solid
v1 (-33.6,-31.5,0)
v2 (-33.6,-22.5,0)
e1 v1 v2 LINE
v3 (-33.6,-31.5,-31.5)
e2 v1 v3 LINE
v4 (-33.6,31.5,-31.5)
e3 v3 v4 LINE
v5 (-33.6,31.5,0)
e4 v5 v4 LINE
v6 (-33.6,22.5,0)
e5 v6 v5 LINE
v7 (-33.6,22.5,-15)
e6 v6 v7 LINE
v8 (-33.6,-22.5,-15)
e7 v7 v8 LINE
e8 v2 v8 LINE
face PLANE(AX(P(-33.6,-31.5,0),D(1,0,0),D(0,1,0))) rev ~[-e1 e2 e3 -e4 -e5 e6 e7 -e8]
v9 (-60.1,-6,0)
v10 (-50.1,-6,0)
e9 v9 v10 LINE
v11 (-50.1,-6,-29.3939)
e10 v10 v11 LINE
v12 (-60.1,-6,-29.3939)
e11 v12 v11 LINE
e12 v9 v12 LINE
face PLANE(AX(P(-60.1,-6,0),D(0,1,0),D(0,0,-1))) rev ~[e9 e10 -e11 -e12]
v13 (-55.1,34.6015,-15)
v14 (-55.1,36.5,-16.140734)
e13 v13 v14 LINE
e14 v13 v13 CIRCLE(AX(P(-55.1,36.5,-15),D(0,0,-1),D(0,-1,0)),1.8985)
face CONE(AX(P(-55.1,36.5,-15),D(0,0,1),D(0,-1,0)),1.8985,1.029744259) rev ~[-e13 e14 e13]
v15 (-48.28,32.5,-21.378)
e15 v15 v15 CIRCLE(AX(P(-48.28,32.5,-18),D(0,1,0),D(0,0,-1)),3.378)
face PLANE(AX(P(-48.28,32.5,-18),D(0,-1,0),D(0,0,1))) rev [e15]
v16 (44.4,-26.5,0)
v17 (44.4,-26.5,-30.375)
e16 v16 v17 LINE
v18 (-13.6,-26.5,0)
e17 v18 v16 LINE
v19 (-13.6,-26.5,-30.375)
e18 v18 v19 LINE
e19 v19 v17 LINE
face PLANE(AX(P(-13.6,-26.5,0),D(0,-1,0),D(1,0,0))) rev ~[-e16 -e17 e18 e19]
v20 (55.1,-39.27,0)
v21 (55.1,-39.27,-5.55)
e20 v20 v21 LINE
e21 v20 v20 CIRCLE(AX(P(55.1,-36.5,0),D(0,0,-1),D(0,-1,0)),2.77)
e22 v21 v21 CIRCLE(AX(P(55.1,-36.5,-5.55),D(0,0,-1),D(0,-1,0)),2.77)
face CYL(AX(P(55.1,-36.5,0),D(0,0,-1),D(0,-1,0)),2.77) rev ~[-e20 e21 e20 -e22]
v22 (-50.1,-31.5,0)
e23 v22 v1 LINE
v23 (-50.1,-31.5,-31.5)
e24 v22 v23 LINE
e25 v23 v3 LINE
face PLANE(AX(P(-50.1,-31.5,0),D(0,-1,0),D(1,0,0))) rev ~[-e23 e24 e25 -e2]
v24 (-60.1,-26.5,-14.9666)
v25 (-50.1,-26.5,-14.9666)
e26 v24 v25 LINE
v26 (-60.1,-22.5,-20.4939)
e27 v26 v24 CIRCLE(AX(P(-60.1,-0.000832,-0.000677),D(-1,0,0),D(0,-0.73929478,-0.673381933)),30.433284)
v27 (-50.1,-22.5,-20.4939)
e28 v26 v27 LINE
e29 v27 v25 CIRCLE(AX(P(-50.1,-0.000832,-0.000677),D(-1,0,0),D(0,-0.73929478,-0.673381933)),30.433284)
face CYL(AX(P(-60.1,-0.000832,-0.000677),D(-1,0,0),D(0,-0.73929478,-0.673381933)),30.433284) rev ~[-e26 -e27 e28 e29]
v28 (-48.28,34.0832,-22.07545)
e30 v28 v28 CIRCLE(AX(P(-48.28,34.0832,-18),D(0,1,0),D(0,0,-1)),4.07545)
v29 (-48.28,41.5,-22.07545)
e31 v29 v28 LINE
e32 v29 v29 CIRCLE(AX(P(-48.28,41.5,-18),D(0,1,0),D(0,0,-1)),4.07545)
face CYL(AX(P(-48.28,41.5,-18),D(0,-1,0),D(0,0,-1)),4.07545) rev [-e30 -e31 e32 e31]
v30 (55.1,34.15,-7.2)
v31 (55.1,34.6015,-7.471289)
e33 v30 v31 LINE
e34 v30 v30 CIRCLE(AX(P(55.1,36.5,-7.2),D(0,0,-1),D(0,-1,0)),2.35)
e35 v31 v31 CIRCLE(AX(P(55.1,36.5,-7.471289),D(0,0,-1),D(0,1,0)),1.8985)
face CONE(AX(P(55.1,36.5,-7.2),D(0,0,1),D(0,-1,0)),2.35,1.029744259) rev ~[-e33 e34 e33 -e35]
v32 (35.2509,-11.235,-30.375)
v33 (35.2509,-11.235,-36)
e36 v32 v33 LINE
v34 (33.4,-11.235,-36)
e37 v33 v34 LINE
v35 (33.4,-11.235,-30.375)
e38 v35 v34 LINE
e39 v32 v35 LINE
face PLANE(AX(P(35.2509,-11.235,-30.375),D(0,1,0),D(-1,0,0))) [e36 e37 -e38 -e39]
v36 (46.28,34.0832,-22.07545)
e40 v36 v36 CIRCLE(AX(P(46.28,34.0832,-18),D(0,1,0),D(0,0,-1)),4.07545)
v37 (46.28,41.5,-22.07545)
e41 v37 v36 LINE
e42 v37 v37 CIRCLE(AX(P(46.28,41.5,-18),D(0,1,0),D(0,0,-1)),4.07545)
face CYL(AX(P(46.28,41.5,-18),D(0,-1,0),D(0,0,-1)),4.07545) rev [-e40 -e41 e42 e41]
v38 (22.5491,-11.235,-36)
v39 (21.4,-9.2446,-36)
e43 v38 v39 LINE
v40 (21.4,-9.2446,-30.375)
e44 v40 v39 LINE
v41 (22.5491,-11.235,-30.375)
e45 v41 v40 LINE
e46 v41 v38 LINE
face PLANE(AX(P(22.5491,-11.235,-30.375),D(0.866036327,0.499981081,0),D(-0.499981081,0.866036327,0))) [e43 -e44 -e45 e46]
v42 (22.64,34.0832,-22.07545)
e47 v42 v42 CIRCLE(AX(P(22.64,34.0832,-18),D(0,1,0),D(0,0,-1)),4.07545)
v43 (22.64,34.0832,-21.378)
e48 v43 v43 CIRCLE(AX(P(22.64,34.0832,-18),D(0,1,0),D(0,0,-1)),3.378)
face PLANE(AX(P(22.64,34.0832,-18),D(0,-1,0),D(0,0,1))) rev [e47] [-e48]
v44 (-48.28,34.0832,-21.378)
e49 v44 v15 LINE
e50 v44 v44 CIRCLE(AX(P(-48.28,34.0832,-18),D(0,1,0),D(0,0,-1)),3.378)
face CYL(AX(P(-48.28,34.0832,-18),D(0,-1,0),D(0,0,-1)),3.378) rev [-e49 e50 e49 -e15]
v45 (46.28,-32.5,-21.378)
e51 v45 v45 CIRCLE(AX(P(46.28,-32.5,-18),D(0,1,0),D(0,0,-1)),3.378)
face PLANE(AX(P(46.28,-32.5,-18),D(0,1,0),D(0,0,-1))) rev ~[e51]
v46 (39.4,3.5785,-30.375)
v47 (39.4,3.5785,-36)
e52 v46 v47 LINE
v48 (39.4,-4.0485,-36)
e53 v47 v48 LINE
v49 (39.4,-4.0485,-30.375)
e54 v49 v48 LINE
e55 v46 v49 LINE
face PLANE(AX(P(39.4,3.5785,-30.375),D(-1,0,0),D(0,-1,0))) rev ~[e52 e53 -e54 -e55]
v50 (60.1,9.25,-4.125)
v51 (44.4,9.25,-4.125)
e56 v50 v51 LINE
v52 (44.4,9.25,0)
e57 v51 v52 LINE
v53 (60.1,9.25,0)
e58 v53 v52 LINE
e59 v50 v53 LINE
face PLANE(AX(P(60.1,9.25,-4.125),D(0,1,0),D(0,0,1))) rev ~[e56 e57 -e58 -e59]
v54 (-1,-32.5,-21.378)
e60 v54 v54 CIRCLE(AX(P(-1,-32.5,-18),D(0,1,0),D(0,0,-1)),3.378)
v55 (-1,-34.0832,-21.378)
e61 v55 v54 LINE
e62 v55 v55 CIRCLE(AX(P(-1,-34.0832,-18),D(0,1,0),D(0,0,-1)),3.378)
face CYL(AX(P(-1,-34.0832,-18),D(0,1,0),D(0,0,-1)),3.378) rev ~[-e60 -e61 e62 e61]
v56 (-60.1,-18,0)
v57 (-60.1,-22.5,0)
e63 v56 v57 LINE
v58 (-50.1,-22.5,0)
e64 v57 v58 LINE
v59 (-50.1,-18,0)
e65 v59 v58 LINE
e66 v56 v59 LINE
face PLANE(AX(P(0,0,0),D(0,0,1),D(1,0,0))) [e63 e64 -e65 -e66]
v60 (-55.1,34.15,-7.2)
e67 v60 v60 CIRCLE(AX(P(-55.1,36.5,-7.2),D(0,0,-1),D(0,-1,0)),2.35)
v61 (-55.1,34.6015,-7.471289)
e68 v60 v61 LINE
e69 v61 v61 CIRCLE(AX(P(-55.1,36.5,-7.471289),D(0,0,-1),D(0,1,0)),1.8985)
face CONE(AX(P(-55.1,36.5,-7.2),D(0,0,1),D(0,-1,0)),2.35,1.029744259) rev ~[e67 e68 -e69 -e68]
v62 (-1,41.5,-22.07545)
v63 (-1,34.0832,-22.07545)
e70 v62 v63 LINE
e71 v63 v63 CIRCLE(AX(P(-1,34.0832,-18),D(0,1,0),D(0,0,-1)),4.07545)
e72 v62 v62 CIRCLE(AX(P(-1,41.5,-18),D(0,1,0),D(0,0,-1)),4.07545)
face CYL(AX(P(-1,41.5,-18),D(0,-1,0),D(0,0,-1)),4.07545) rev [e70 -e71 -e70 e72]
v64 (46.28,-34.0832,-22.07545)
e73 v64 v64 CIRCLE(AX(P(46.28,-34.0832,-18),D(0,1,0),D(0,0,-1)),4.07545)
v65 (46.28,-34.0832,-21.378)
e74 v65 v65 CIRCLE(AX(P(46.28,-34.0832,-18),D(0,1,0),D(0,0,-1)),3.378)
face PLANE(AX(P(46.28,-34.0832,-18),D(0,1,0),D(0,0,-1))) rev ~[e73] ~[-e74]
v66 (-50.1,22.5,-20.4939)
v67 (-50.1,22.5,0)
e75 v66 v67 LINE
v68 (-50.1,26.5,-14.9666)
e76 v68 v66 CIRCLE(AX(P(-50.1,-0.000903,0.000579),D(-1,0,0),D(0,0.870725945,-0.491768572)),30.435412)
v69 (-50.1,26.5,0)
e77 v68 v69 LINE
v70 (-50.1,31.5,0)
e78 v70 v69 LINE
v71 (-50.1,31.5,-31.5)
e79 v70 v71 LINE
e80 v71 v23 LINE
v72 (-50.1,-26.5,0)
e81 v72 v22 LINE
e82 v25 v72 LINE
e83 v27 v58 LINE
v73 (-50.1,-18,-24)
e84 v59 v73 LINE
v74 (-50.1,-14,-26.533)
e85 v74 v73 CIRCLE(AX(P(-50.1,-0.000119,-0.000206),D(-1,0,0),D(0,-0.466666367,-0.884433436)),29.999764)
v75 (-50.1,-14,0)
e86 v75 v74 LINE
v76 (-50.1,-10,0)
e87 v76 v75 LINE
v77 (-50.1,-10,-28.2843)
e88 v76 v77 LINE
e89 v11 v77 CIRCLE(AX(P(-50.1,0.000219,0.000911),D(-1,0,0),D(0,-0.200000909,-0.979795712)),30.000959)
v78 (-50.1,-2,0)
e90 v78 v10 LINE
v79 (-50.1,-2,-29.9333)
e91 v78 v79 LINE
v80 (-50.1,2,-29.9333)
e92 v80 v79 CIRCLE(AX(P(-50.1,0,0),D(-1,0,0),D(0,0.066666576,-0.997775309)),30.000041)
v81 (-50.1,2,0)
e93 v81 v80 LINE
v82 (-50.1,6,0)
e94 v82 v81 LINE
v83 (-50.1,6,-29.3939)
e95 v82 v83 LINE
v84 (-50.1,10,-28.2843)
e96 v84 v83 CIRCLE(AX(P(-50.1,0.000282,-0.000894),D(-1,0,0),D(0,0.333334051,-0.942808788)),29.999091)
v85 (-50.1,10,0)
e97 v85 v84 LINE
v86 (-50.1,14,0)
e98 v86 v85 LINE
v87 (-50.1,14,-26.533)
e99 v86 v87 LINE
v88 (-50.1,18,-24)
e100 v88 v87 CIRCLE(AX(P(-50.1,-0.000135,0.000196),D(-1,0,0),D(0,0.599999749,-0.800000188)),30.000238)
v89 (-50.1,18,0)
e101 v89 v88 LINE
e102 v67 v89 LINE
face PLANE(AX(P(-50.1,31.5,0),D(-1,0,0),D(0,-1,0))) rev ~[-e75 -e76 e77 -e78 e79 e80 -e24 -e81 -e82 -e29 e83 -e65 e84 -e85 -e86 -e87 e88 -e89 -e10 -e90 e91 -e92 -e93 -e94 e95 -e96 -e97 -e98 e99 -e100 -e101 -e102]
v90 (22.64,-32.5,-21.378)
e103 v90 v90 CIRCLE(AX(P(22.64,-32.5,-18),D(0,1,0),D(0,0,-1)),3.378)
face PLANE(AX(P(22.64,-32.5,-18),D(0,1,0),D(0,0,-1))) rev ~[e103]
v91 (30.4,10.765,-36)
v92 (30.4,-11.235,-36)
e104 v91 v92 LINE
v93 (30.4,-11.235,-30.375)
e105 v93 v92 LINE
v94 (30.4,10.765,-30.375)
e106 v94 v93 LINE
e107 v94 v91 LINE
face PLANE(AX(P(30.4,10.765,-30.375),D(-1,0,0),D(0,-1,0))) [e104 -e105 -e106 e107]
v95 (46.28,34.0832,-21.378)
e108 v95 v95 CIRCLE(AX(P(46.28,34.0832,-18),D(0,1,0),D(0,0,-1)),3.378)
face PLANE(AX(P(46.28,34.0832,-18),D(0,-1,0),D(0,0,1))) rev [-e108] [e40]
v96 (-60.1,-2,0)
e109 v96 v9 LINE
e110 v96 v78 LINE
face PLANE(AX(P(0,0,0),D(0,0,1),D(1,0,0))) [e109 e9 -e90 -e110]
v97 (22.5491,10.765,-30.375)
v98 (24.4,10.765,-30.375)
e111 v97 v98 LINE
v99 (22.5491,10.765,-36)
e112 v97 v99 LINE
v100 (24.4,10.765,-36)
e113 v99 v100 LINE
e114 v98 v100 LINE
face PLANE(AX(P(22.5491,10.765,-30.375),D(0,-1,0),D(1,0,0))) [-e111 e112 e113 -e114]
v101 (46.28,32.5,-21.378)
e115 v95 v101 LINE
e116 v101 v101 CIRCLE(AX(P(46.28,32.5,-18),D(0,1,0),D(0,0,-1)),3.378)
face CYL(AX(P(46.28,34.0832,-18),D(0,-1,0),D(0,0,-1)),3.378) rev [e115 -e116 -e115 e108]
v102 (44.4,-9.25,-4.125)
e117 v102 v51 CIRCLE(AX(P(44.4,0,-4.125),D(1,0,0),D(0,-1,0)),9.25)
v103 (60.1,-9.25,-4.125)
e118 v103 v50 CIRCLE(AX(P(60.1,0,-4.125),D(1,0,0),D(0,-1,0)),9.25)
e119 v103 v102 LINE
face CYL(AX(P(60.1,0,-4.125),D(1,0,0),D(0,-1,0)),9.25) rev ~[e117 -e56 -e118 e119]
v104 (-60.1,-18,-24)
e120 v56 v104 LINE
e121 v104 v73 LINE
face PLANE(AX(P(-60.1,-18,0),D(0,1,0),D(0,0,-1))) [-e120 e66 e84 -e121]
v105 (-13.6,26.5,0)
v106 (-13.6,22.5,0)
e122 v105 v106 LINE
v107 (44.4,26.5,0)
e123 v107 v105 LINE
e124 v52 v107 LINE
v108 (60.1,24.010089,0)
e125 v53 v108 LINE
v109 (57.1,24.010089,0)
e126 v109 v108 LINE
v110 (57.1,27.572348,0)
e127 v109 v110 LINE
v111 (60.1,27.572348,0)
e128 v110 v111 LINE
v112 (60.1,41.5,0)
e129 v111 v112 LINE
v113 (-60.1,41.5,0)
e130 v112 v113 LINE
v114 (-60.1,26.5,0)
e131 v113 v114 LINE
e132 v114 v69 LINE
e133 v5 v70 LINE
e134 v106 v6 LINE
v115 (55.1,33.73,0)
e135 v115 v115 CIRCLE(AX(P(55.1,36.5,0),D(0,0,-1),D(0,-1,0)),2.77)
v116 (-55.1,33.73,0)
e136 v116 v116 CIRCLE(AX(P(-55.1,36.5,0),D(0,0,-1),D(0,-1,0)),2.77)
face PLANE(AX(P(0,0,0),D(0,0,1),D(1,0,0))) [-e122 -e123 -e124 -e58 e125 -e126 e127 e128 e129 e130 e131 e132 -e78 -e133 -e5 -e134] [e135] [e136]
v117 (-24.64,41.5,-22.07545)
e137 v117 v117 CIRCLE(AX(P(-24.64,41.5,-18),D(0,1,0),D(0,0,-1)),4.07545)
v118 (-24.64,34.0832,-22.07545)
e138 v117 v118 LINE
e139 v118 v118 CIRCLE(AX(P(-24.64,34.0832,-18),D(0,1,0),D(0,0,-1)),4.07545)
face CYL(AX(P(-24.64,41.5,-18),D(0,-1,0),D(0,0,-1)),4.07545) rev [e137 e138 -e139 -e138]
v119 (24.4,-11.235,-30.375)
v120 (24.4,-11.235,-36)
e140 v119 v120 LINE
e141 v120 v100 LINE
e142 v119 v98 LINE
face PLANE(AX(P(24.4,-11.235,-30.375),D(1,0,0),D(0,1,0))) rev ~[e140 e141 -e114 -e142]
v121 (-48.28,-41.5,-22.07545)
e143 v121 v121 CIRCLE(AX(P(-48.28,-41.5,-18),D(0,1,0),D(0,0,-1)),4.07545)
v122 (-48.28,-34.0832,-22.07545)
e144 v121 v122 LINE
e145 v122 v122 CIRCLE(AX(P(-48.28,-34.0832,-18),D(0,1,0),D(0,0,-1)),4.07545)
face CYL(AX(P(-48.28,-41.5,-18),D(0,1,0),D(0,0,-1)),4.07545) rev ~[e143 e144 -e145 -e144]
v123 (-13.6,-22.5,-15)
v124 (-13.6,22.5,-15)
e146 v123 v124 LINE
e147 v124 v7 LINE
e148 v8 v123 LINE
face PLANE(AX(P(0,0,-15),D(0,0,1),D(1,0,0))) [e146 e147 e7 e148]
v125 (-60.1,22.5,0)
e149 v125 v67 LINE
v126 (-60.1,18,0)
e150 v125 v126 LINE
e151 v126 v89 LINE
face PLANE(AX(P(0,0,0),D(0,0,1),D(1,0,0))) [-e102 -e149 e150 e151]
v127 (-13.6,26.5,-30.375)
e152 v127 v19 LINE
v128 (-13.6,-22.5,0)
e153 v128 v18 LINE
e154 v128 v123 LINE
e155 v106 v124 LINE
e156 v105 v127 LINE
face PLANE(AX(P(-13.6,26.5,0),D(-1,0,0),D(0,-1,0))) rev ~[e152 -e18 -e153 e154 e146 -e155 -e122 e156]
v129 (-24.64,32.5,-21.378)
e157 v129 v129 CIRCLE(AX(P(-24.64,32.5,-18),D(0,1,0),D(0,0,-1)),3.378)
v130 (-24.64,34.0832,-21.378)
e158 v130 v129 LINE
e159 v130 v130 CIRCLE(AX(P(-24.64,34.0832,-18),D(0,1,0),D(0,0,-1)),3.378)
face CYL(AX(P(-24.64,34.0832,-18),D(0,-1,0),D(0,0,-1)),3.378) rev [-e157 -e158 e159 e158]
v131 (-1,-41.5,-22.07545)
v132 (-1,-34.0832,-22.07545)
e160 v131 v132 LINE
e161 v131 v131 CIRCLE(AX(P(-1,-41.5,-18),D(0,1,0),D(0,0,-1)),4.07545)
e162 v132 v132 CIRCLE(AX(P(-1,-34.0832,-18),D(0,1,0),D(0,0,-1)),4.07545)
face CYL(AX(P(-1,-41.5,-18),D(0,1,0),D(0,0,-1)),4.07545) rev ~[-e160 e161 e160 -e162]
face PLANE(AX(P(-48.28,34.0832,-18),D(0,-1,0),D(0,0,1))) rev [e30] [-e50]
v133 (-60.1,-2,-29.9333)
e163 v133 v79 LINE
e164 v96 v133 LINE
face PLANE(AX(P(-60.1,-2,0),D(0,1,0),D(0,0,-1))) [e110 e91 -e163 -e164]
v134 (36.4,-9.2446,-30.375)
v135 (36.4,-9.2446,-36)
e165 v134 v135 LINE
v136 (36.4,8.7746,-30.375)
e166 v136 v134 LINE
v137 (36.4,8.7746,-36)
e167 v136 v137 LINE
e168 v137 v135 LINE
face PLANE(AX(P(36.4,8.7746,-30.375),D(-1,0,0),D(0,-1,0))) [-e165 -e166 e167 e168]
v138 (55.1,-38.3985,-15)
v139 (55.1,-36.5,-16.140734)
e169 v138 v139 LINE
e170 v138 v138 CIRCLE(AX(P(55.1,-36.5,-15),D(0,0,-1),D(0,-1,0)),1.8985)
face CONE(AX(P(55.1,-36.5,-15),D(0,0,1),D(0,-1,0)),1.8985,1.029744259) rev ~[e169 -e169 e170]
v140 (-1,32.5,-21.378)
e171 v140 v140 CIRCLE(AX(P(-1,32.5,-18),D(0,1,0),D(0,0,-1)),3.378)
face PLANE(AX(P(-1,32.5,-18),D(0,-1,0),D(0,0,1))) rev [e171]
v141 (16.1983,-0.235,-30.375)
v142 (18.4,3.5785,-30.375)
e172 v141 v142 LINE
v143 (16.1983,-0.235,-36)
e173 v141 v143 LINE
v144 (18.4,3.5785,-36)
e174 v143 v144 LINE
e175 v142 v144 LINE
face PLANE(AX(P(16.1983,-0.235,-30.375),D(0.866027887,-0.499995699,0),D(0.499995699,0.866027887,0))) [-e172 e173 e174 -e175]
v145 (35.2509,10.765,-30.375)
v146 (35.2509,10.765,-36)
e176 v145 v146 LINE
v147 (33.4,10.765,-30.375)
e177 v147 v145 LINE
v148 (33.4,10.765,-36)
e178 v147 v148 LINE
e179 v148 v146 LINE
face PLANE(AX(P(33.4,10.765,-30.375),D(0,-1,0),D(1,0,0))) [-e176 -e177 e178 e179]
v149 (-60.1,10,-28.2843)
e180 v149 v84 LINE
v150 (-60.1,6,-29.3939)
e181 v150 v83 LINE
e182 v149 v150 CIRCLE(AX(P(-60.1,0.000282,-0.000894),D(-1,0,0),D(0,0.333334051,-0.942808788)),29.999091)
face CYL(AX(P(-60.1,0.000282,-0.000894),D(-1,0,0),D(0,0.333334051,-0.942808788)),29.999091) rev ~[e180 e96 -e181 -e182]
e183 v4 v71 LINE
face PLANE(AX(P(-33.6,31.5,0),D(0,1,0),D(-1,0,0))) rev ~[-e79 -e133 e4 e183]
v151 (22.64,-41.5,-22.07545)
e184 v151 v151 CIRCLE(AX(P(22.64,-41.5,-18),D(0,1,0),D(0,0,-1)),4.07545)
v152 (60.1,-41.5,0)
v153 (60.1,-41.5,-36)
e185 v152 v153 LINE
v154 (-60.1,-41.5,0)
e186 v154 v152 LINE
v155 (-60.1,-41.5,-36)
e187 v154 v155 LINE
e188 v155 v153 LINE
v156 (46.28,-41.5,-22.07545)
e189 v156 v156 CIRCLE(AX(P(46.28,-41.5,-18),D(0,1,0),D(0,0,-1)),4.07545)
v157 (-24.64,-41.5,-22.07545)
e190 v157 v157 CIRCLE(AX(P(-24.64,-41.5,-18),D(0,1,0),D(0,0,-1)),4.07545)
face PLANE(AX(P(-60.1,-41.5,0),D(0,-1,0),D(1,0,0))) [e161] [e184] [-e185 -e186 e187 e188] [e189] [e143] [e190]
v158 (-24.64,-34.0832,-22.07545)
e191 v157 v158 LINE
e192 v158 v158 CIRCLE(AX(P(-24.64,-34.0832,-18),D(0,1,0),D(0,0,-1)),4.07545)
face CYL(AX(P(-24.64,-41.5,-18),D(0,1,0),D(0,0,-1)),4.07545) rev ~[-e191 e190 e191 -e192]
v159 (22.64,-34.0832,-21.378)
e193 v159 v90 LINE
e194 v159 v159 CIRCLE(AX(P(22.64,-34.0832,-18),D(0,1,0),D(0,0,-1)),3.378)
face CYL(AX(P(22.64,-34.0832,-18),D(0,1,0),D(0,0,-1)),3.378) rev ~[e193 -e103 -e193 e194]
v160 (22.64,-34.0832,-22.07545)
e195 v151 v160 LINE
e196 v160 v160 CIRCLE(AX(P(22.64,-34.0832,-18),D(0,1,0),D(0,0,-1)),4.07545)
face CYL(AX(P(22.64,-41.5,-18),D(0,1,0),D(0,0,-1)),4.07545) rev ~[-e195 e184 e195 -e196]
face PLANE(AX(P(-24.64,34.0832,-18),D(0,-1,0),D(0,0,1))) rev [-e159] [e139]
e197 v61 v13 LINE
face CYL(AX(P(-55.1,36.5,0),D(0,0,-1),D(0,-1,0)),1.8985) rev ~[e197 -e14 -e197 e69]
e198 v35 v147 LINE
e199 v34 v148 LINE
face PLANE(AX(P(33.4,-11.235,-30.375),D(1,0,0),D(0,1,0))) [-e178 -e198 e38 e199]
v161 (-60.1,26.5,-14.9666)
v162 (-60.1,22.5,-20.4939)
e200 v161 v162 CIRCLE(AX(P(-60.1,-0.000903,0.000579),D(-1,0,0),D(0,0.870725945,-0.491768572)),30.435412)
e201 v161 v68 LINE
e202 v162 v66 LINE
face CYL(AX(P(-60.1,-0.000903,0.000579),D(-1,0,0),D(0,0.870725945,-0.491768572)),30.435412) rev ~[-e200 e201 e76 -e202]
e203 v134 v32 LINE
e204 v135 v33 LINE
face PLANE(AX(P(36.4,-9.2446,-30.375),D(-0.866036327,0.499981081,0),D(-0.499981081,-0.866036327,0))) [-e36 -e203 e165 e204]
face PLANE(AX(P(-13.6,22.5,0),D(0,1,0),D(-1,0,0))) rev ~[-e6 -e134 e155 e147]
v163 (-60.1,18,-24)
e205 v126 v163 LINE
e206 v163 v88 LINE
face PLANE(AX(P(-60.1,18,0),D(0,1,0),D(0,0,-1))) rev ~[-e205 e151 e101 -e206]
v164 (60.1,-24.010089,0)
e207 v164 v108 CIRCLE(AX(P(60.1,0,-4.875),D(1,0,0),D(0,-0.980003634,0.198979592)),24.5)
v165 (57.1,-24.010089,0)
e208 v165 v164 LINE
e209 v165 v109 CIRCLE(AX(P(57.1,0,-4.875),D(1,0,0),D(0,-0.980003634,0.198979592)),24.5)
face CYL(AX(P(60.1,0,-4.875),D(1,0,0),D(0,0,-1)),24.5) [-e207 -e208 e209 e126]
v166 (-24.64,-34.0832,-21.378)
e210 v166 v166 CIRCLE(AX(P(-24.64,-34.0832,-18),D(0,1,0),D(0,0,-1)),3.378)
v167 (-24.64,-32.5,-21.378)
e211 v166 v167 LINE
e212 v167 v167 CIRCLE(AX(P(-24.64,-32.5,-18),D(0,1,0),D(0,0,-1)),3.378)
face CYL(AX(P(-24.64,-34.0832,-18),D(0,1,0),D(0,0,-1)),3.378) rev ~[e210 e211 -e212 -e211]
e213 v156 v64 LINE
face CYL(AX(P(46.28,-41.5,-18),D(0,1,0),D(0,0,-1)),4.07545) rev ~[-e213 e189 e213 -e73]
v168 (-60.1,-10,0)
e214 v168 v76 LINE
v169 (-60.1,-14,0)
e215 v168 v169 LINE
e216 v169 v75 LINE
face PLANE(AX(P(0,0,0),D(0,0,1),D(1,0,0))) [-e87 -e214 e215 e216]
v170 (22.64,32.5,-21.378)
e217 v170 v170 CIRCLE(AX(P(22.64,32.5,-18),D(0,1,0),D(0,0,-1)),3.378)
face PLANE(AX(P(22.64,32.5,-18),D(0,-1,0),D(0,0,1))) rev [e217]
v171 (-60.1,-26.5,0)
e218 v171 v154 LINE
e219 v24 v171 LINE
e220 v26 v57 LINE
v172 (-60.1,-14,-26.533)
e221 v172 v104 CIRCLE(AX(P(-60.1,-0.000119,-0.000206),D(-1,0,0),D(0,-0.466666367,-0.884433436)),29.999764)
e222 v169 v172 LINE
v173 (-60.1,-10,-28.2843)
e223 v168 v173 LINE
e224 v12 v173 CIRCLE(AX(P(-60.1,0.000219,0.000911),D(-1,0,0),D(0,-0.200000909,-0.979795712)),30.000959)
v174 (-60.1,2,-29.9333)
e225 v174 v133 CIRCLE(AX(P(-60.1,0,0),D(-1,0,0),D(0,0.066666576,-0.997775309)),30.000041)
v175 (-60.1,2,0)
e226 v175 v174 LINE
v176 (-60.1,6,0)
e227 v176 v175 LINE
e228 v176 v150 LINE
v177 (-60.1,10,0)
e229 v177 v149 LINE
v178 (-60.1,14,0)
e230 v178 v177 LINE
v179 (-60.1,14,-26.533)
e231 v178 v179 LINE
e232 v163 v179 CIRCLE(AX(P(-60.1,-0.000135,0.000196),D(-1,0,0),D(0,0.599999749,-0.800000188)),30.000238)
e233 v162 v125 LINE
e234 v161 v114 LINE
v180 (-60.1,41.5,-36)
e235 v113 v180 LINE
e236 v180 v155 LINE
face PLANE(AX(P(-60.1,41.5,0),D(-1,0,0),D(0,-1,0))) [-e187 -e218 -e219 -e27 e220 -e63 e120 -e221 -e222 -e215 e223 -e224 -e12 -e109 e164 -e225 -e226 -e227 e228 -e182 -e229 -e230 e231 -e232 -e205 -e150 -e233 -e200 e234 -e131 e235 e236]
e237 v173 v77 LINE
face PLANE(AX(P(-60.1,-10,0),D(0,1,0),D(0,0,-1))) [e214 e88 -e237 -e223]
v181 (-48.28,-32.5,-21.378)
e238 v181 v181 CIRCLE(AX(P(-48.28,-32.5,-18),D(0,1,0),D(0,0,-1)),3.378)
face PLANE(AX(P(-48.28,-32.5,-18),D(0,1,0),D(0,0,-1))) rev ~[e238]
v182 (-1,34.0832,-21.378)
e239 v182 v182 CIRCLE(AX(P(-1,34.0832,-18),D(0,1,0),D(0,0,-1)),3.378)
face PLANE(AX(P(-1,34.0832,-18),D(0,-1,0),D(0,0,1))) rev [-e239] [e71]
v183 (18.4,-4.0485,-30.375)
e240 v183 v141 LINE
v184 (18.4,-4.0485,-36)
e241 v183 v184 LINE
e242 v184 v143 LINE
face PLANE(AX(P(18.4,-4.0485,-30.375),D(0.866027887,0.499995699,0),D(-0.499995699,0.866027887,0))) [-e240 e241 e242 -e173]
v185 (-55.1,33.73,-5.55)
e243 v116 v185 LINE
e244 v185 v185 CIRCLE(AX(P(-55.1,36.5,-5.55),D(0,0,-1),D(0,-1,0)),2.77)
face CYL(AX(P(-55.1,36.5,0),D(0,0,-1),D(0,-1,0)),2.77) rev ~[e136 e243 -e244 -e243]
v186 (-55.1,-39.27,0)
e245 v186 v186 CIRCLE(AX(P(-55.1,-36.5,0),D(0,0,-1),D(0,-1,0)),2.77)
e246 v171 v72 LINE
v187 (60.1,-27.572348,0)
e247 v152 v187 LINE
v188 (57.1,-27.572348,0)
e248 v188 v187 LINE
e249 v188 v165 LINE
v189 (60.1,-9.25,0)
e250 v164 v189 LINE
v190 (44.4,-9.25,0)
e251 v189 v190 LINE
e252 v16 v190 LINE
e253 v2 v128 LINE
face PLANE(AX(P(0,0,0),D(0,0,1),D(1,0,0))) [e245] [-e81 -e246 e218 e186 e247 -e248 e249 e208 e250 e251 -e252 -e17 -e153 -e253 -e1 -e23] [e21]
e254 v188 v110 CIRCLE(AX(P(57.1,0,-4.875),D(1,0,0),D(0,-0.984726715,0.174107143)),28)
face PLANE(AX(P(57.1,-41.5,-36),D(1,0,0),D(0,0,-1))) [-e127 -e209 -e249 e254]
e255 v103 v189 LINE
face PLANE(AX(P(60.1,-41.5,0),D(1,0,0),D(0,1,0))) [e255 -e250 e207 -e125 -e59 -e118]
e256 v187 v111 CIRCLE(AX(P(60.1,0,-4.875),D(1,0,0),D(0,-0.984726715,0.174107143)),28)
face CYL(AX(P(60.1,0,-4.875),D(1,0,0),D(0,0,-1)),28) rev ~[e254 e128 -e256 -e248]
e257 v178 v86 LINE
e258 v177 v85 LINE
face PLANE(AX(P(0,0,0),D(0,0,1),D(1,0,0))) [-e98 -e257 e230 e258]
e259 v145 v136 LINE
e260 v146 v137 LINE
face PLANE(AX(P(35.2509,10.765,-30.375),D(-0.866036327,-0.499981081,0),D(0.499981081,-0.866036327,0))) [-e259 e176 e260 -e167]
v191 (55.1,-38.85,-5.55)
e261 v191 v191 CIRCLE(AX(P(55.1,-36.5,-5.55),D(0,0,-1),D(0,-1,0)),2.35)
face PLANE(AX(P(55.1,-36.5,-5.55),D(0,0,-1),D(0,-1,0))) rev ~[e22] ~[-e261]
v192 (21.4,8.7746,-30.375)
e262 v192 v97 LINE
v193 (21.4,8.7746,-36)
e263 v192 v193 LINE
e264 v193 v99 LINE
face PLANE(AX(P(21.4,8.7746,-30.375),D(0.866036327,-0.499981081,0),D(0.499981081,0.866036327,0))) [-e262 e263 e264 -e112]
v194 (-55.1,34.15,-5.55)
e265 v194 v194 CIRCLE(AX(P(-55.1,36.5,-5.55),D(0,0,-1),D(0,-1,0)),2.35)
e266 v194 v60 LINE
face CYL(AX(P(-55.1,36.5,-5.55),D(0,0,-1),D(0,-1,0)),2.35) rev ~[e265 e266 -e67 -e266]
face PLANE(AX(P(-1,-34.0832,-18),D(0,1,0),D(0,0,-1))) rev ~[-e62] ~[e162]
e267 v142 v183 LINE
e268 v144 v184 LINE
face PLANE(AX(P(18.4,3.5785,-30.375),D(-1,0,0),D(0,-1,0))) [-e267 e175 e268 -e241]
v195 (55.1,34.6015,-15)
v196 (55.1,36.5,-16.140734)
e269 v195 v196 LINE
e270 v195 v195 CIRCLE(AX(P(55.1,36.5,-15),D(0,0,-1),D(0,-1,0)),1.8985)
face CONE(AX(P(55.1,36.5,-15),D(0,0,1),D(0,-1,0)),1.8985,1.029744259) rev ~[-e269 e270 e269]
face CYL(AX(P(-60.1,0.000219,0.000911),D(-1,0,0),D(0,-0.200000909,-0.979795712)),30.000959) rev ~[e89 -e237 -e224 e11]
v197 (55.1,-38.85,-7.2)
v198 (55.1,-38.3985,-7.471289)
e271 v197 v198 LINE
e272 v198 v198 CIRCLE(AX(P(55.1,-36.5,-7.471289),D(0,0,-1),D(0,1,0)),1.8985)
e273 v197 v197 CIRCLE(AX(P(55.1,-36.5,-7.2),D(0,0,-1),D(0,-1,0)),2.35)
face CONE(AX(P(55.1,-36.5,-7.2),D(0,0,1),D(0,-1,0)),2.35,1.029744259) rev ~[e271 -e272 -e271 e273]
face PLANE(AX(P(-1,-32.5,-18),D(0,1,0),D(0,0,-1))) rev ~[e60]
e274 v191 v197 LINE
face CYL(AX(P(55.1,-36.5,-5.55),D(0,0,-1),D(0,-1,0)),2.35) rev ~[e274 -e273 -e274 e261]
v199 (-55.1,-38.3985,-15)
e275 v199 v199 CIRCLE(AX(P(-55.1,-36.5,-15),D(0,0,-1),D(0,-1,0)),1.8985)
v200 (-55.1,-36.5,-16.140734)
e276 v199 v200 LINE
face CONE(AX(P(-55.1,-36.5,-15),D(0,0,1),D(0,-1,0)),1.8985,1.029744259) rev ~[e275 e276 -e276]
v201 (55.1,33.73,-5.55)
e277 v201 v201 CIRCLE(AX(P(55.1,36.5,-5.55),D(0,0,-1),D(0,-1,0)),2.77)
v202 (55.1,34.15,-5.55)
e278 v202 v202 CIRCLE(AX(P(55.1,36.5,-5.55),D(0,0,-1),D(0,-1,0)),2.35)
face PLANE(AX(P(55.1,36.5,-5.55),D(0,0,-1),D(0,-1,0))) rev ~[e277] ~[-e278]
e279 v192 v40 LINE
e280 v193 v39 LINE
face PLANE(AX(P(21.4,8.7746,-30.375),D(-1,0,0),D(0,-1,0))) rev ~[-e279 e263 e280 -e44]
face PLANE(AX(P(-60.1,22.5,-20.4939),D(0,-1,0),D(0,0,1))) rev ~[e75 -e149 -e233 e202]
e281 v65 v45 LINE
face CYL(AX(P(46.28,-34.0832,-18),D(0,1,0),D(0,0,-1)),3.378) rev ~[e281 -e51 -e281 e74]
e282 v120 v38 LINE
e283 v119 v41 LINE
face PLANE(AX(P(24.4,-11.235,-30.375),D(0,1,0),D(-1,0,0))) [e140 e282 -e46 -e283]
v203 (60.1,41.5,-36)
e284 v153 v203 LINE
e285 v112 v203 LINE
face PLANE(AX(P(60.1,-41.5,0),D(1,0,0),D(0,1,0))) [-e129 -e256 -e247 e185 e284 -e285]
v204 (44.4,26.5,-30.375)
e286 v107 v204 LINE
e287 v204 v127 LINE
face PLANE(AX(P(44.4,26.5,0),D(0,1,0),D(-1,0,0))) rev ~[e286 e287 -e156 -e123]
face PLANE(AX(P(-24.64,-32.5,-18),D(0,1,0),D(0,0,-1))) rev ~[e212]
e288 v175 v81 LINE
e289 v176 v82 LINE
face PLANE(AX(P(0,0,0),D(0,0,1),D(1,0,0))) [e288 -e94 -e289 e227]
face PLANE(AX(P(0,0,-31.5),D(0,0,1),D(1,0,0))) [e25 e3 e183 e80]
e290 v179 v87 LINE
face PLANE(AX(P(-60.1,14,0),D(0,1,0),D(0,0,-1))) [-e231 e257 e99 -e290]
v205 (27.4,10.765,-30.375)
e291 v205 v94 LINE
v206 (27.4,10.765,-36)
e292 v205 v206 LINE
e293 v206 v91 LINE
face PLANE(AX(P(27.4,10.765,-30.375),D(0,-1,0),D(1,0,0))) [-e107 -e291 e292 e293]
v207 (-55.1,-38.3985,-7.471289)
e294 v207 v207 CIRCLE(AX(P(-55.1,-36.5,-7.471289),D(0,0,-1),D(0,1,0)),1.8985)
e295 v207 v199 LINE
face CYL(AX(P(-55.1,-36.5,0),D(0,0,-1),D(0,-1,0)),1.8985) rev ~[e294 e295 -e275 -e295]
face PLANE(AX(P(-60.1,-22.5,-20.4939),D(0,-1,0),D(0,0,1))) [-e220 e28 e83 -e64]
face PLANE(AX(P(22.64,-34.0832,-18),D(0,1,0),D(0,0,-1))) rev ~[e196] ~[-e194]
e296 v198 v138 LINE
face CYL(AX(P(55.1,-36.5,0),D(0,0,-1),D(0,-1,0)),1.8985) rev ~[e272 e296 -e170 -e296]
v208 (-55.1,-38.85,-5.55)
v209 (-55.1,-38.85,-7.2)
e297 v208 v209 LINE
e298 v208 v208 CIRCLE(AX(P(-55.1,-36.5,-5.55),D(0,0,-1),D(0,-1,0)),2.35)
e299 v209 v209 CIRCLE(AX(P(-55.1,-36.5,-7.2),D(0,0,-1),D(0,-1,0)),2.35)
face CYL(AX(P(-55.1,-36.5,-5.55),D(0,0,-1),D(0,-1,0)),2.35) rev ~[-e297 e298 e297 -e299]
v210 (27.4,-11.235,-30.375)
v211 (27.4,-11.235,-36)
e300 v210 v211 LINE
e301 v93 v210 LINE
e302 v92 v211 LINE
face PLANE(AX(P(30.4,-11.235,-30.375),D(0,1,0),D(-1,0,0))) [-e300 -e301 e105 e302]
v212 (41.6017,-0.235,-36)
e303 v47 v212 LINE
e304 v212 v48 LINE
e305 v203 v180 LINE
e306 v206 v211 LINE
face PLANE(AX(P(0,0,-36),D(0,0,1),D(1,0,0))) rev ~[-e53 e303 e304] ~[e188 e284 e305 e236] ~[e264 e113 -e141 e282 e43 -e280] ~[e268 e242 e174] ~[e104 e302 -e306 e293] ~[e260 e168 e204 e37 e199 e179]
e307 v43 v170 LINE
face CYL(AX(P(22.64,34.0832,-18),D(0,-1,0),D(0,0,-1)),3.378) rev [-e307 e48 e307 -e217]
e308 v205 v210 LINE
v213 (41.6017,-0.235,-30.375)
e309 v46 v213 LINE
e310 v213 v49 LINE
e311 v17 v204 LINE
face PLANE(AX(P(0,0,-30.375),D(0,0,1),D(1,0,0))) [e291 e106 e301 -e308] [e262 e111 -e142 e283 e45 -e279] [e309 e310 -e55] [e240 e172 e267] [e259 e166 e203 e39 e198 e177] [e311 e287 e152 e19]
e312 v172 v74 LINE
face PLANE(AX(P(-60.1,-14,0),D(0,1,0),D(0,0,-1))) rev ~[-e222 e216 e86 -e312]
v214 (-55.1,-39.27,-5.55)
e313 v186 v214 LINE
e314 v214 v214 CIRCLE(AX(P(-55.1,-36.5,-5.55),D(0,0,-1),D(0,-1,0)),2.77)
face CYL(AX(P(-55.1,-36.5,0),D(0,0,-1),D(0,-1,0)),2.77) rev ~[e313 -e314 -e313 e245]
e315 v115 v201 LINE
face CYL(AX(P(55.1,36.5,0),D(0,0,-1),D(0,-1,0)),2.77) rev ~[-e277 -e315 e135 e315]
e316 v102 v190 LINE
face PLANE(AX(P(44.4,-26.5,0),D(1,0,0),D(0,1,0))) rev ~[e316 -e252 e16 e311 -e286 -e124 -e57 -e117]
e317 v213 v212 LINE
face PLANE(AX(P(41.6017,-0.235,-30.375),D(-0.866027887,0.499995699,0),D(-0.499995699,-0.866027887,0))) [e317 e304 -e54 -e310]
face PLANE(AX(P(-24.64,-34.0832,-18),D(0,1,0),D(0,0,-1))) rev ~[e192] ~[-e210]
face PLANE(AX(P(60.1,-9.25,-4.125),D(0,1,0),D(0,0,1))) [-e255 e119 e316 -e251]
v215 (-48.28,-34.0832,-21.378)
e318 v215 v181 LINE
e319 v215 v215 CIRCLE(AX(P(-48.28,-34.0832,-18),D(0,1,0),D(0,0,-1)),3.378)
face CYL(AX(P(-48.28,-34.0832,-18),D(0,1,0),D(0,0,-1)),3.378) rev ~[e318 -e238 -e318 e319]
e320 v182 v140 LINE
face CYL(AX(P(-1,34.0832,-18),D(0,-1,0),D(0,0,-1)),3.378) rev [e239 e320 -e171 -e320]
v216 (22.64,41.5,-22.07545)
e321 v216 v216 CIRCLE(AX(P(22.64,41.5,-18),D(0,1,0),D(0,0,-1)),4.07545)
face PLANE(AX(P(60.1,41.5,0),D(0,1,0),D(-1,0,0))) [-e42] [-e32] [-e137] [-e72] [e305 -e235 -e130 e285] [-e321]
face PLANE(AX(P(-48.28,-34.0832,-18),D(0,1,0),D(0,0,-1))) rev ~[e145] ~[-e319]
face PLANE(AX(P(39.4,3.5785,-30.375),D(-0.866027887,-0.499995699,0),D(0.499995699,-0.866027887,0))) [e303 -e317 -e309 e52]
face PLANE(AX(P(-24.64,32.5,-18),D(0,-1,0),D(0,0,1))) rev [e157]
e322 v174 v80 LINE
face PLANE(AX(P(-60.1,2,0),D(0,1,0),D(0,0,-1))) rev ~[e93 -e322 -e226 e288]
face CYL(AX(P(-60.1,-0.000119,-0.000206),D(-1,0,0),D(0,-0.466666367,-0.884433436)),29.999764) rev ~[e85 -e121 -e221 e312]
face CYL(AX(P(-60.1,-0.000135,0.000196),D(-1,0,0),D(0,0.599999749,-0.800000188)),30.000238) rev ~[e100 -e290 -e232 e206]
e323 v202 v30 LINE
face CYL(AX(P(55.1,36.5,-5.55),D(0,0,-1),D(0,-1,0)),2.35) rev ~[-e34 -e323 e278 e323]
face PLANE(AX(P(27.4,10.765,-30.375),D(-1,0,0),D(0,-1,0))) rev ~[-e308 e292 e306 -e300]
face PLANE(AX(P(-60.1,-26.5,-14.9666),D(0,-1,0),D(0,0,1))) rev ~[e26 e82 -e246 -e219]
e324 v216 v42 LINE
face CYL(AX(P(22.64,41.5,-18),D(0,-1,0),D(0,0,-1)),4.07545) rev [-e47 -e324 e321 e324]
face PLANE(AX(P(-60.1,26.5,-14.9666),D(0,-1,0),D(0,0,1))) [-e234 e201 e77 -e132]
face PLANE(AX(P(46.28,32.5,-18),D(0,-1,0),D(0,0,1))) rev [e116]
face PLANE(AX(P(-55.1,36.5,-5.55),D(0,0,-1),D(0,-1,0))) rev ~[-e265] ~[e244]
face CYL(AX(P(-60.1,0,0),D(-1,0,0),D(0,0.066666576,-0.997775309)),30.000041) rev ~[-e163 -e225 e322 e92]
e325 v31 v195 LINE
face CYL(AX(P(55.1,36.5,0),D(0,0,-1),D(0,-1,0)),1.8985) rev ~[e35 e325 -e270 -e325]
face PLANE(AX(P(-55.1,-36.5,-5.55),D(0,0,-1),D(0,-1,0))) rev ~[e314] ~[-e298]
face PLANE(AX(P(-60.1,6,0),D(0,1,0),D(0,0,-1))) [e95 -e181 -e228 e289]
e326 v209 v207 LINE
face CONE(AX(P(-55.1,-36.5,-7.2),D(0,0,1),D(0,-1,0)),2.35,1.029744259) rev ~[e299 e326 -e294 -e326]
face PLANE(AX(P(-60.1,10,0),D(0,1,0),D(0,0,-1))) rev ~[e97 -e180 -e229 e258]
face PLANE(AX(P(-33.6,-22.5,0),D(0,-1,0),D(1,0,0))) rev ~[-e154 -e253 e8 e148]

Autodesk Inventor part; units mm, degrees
ref_plane "YZ Plane" through (0, 0, 0) normal (1, 0, 0) x (0, 1, 0)
ref_plane "XY Plane" through (0, 0, 0) normal (0, 0, 1) x (1, 0, 0)
sketch "Sketch1" plane through (0, 0, 0) normal (0, 0, 1) x (1, 0, 0)
  line L0 (-60.1, -41.5) -> (60.1, -41.5)
  line L1 (60.1, -41.5) -> (60.1, 41.5)
  line L2 (60.1, 41.5) -> (-60.1, 41.5)
  line L3 (-60.1, 41.5) -> (-60.1, -41.5)
  line L4 (-60.1, -41.5) -> (60.1, 41.5) construction
  line L5 (60.1, -41.5) -> (-60.1, 41.5) construction
  point P0 (0, 0)
  dimension "d0" = 120.2
  dimension "d1" = 83
extrude "MainInnerBodyExtrusion" add sketch "Sketch1" against normal blind 36
sketch "Sketch3" plane through (0, 0, 0) normal (0, 0, 1) x (1, 0, 0)
  line L0 (-13.6, -26.5) -> (44.4, -26.5)
  line L1 (44.4, -26.5) -> (44.4, 26.5)
  line L2 (44.4, 26.5) -> (-13.6, 26.5)
  line L3 (-13.6, 26.5) -> (-13.6, -26.5)
  line L4 (-13.6, -26.5) -> (44.4, 26.5) construction
  line L5 (44.4, -26.5) -> (-13.6, 26.5) construction
  line L6 (60.1, -41.5) -> (60.1, 41.5) projected
  line L7 (0, 0) -> (60.1, 0) construction
  line L8 (-60.1, -41.5) -> (-60.1, 41.5) construction
  line L9 (-60.1, 41.5) -> (-60.1, -41.5) projected
  point P0 (15.4, 0)
  point P1 (15.4, 0)
  dimension "d5" = 15.7
  dimension "d6" = 53
  dimension "d7" = 58
extrude "HoleForCameraCase" cut sketch "Sketch3" against normal blind 30.375
sketch "Sketch4" plane through (0, 0, 0) normal (0, 0, 1) x (1, 0, 0)
  line L0 (0, 0) -> (-60.1, 0) construction
  line L1 (-60.1, -41.5) -> (-60.1, 41.5) construction
  line L2 (-50.1, -31.5) -> (-33.6, -31.5)
  line L3 (-33.6, -31.5) -> (-33.6, 31.5)
  line L4 (-33.6, 31.5) -> (-50.1, 31.5)
  line L5 (-50.1, 31.5) -> (-50.1, -31.5)
  line L6 (-50.1, -31.5) -> (-33.6, 31.5) construction
  line L7 (-33.6, -31.5) -> (-50.1, 31.5) construction
  point P0 (-41.85, 0)
  dimension "d13" = 16.5
  dimension "d14" = 63
  dimension "d15" = 10
extrude "HoleForFan" cut sketch "Sketch4" against normal blind 31.5
sketch "Sketch15" plane through (-60.1, -41.5, 0) normal (-1, 0, 0) x (0, 0, 1)
  line L0 (0, 83) -> (0, 0) projected
  line L1 (0, 83) -> (-36, 83) projected
  line L2 (-36, 0) -> (-36, 83) projected
  line L3 (0, 0) -> (-36, 0) projected
  line L4 (0, 0) -> (0, 83) projected
  line L5 (0, 68) -> (0, 15) projected
  line L6 (0, 41.5) -> (-30, 41.5) construction
  line L7 (0, 43.5) -> (-29.9333, 43.5)
  line L8 (0, 51.5) -> (-28.2843, 51.5)
  line L9 (0, 47.5) -> (-29.3939, 47.5)
  line L10 (0, 43.5) -> (0, 41.5)
  line L11 (0, 55.5) -> (-26.533, 55.5)
  line L12 (0, 59.5) -> (-24, 59.5)
  line L13 (-20.4939, 64) -> (0, 64)
  line L14 (-14.9666, 68) -> (0, 68)
  line L15 (0, 51.5) -> (0, 47.5)
  line L16 (0, 68) -> (0, 64)
  line L17 (0, 59.5) -> (0, 55.5)
  line L18 (0, 39.5) -> (-29.9333, 39.5)
  line L19 (0, 31.5) -> (-28.2843, 31.5)
  line L20 (0, 35.5) -> (-29.3939, 35.5)
  line L21 (0, 39.5) -> (0, 41.5)
  line L22 (0, 27.5) -> (-26.533, 27.5)
  line L23 (0, 23.5) -> (-24, 23.5)
  line L24 (-20.4939, 19) -> (0, 19)
  line L25 (-14.9666, 15) -> (0, 15)
  line L26 (0, 31.5) -> (0, 35.5)
  line L27 (0, 23.5) -> (0, 27.5)
  line L28 (0, 15) -> (0, 19)
  line L29 (0, 39.5) -> (0, 43.5)
  line L30 (0, 47.5) -> (0, 51.5)
  line L31 (0, 55.5) -> (0, 59.5)
  line L32 (0, 64) -> (0, 83)
  arc A0 (-28.2843, 51.5) -> (-29.3939, 47.5) centre (0, 41.5) ccw
  arc A1 (-14.9666, 68) -> (-20.4939, 64) centre (0, 41.5) ccw
  arc A2 (-24, 59.5) -> (-26.533, 55.5) centre (0, 41.5) ccw
  arc A3 (-29.9333, 43.5) -> (-29.9333, 39.5) centre (0, 41.5) ccw
  arc A4 (-29.3939, 35.5) -> (-28.2843, 31.5) centre (0, 41.5) ccw
  arc A5 (-26.533, 27.5) -> (-24, 23.5) centre (0, 41.5) ccw
  arc A6 (-20.4939, 19) -> (-14.9666, 15) centre (0, 41.5) ccw
  point P0 (0, 41.5)
  point P1 (0, 82)
  point P2 (0, 67.0167)
  point P3 (0, 4.25)
  point P4 (-10.247, 64)
  point P5 (0, 15)
  point P6 (0, 19)
  point P7 (0, 23.5)
  point P8 (0, 27.5)
  point P9 (0, 31.5)
  point P10 (0, 35.5)
  point P11 (0, 39.5)
  point P12 (0, 47.5)
  point P13 (0, 51.5)
  point P14 (0, 55.5)
  point P15 (0, 59.5)
  point P16 (0, 64)
  dimension "d69" = 2
  dimension "d71" = 4
  dimension "d72" = 4
  dimension "d73" = 4
  dimension "d75" = 4
  dimension "d142" = 30
extrude "SlotsForRearFan" cut sketch "Sketch15" against normal up to surface (10 mm away) contours L0 L13 A1 L14 | L0 L11 A2 L12 | L25 A6 L24 L0 | L0 L9 A0 L8 | L23 A5 L22 L0 | L0 L18 A3 L7 | L19 A4 L20 L0
sketch "Sketch16" plane through (0, 0, -30.375) normal (0, 0, 1) x (1, 0, 0)
  line L0 (44.4, 26.5) -> (44.4, -26.5) projected
  line L1 (28.9, 10.765) -> (28.9, -11.235) construction
  line L2 (27.4, 10.765) -> (27.4, -11.235)
  line L3 (24.4, -11.235) -> (24.4, 10.765)
  line L4 (21.4, 8.7746) -> (21.4, -9.2446)
  line L5 (18.4, 3.5785) -> (18.4, -4.0485)
  line L6 (30.4, 10.765) -> (30.4, -11.235)
  line L7 (33.4, -11.235) -> (33.4, 10.765)
  line L8 (36.4, 8.7746) -> (36.4, -9.2446)
  line L9 (39.4, 3.5785) -> (39.4, -4.0485)
  line L10 (22.5491, 10.765) -> (24.4, 10.765)
  line L11 (24.4, -11.235) -> (22.5491, -11.235)
  line L12 (22.5491, -11.235) -> (21.4, -9.2446)
  line L13 (18.4, -4.0485) -> (16.1983, -0.235)
  line L14 (16.1983, -0.235) -> (18.4, 3.5785)
  line L15 (21.4, 8.7746) -> (22.5491, 10.765)
  line L16 (27.4, 10.765) -> (30.4, 10.765)
  line L17 (33.4, 10.765) -> (35.2509, 10.765)
  line L18 (35.2509, -11.235) -> (33.4, -11.235)
  line L19 (30.4, -11.235) -> (27.4, -11.235)
  line L20 (41.6017, -0.235) -> (39.4, -4.0485)
  line L21 (36.4, -9.2446) -> (35.2509, -11.235)
  line L22 (35.2509, 10.765) -> (36.4, 8.7746)
  line L23 (39.4, 3.5785) -> (41.6017, -0.235)
  point P0 (0, 0)
  point P1 (28.9, -0.235)
  point P2 (18.4, -0.235)
  dimension "d78" = 15.5
  dimension "d89" = 1.5
  dimension "d90" = 3
  dimension "d91" = 3
  dimension "d92" = 3
extrude "VentForCamera" cut sketch "Sketch16" against normal through all
sketch "Sketch18" plane through (60.1, -41.5, 0) normal (1, 0, 0) x (0, 0, -1)
  line L0 (0, 41.5) -> (29.6767, 41.5) construction
  arc A0 (4.125, 32.25) -> (4.125, 50.75) centre (4.125, 41.5) ccw
  line L1 (0, 0) -> (0, 83) projected
  line L2 (4.125, 50.75) -> (0, 50.75)
  line L3 (4.125, 32.25) -> (0, 32.25)
  line L4 (0, 50.75) -> (0, 32.25)
  point P0 (0, 41.5)
  dimension "d97" = 18.5
  dimension "d137" = 4.125
extrude "HoleForLens" cut sketch "Sketch18" against normal blind 20
sketch "Sketch23" plane through (0, 0, 0) normal (0, 0, 1) x (1, 0, 0)
  line L0 (-55.1, -36.5) -> (55.1, -36.5) construction
  line L1 (55.1, -36.5) -> (55.1, 36.5) construction
  line L2 (55.1, 36.5) -> (-55.1, 36.5) construction
  line L3 (-55.1, 36.5) -> (-55.1, -36.5) construction
  line L4 (-55.1, -36.5) -> (55.1, 36.5) construction
  line L5 (55.1, -36.5) -> (-55.1, 36.5) construction
  line L6 (60.1, -41.5) -> (60.1, -9.25) projected
  line L7 (60.1, 41.5) -> (-60.1, 41.5) projected
  line L8 (-13.6, -26.5) -> (-13.6, 26.5) projected
  line L9 (-33.6, 31.5) -> (-33.6, -31.5) projected
  line L10 (-33.6, 31.5) -> (-33.6, -31.5) projected
  line L11 (-13.6, 26.5) -> (-33.6, 26.5)
  line L12 (-33.6, 26.5) -> (-33.6, -25.5)
  line L13 (-33.6, -25.5) -> (-13.6, -25.5)
  line L14 (-13.6, -25.5) -> (-13.6, 26.5)
  point P0 (0, 0)
  dimension "d106" = 5
  dimension "d108" = 5
hole "Hole for 6-32 Insert" at (-55.1, 36.5, 0) at (55.1, 36.5, 0) at (55.1, -36.5, 0) at (-55.1, -36.5, 0) direction (0, 0, -1) diameter 4.7 depth 7.2 tip angle 118 counterbore diameter 5.54 counterbore depth 5.55
hole "Screw hole for 6-32 screw" at (-55.1, -36.5, 0) at (55.1, -36.5, 0) at (55.1, 36.5, 0) at (-55.1, 36.5, 0) direction (0, 0, -1) diameter 3.797 depth 15 tip angle 118 clearance for "Hex Machine Screw" size "#6" standard "Ansi Unified Screw Threads"
sketch "HoleFor50mmLensCover" plane through (60.1, -41.5, -36) normal (1, 0, 0) x (0, 0, -1)
  arc A0 (-31.875, 32.25) -> (-31.875, 50.75) centre (-31.875, 41.5) ccw projected
  circle A1 centre (-31.125, 41.5) radius 28
  circle A2 centre (-31.125, 41.5) radius 24.5
  line L0 (-70.35, 41.5) -> (11.725, 41.5) projected
  point P0 (-36, 41.5)
  dimension "d163" = 56
  dimension "d164" = 49
  dimension "d179" = 0
extrude "HoleForLensCover" cut sketch "HoleFor50mmLensCover" against normal blind 3 contours L0 A2 A1 | A1 L0 A2
sketch "Sketch32" plane through (0, 0, 0) normal (0, 0, 1) x (1, 0, 0)
  line L0 (-13.6, -26.5) -> (-13.6, 26.5) projected
  line L1 (-33.6, 31.5) -> (-33.6, -31.5) projected
  line L2 (-13.6, 22.5) -> (-33.6, 22.5)
  line L3 (-33.6, 22.5) -> (-33.6, -22.5)
  line L4 (-33.6, -22.5) -> (-13.6, -22.5)
  line L5 (-13.6, -22.5) -> (-13.6, 22.5)
  line L6 (-13.6, 26.5) -> (44.4, 26.5) projected
  line L7 (44.4, -26.5) -> (-13.6, -26.5) projected
  point P0 (0, 0)
  point P1 (-13.6, -22.5)
  dimension "d180" = 4
  dimension "d181" = 4
extrude "Extrusion23" cut sketch "Sketch32" against normal blind 15
sketch "Sketch33" plane through (-60.1, -41.5, 0) normal (0, -1, 0) x (1, 0, 0)
  line L0 (0, 0) -> (0, -36) construction
  line L1 (0, -18) -> (120.2, -18) construction
  line L2 (120.2, 0) -> (120.2, -36) construction
  point P0 (60.1, 0)
  point P1 (11.82, -18)
  point P2 (35.46, -18)
  point P3 (59.1, -18)
  point P4 (82.74, -18)
  point P5 (106.38, -18)
  dimension "d184" = 11.82
  dimension "d187" = 23.64
hole "Hole7" at (-48.28, -41.5, -18) at (-24.64, -41.5, -18) at (-1, -41.5, -18) at (22.64, -41.5, -18) at (46.28, -41.5, -18) direction (0, 1, 0) diameter 6.756 depth 9 counterbore diameter 8.1509 counterbore depth 7.4168 clearance for "Hex Machine Screw" size "1/4" standard "Ansi Unified Screw Threads"
mirror "Mirror4" about plane through (0, 0, 0) normal (0, 1, 0) of "Hole7"
equation "\"d0\" = caseLength"
equation "\"d2\" = caseDepth"
equation "\"d5\" = lensLength"
equation "\"d6\" = cameraWidth"
equation "\"d7\" = cameraLength"
equation "\"d13\" = fanDepth"
equation "\"d14\" = fanWidth"
equation "\"d15\" = rearWallThickness"
equation "\"caseWidth\" = 83"
equation "\"lensLength\" = 15.7"
equation "\"lensDiameter\" = 17.5"
equation "\"thickenDistance\" = 1.5"
equation "\"bottomOfCaseWallThickness\" = 3"
equation "\"rearWallThickness\" = 10"
equation "\"maxComponentDepth\" = 33"
equation "\"caseDepth\" = maxComponentDepth + bottomOfCaseWallThickness"
equation "\"fanCutoutDepth\" = 0.5 * fanLength + extraCutoutDepth + thickenDistance"
equation "\"caseLength\" = 120.2"
equation "\"frontWallThickness\" = 3"
equation "\"d95\" = lensDiameter"
equation "\"extraCutoutDepth\" = 15.5"
equation "\"halfFanDepth\" = 31.5"
equation "\"cameraCaseDepth\" = 57.75"
equation "\"halfCameraCaseDepth\" = 30.375"
equation "\"halfThirmesterDepth\" = 11.5"
equation "\"halfSensorDepth\" = 11.5"
equation "\"depthForLensSlot\" = 4.125"
equation "\"bottomWallThickness\" = 8"
equation "\"cameraWidth\" = 53"
equation "\"cameraLength\" = 58"
equation "\"fanDepth\" = 16.5"
equation "\"fanWidth\" = 63"
equation "\"fanLength\" = 60"
properties part number "caseLowerPortionV03" material "PC/ABS Plastic"
